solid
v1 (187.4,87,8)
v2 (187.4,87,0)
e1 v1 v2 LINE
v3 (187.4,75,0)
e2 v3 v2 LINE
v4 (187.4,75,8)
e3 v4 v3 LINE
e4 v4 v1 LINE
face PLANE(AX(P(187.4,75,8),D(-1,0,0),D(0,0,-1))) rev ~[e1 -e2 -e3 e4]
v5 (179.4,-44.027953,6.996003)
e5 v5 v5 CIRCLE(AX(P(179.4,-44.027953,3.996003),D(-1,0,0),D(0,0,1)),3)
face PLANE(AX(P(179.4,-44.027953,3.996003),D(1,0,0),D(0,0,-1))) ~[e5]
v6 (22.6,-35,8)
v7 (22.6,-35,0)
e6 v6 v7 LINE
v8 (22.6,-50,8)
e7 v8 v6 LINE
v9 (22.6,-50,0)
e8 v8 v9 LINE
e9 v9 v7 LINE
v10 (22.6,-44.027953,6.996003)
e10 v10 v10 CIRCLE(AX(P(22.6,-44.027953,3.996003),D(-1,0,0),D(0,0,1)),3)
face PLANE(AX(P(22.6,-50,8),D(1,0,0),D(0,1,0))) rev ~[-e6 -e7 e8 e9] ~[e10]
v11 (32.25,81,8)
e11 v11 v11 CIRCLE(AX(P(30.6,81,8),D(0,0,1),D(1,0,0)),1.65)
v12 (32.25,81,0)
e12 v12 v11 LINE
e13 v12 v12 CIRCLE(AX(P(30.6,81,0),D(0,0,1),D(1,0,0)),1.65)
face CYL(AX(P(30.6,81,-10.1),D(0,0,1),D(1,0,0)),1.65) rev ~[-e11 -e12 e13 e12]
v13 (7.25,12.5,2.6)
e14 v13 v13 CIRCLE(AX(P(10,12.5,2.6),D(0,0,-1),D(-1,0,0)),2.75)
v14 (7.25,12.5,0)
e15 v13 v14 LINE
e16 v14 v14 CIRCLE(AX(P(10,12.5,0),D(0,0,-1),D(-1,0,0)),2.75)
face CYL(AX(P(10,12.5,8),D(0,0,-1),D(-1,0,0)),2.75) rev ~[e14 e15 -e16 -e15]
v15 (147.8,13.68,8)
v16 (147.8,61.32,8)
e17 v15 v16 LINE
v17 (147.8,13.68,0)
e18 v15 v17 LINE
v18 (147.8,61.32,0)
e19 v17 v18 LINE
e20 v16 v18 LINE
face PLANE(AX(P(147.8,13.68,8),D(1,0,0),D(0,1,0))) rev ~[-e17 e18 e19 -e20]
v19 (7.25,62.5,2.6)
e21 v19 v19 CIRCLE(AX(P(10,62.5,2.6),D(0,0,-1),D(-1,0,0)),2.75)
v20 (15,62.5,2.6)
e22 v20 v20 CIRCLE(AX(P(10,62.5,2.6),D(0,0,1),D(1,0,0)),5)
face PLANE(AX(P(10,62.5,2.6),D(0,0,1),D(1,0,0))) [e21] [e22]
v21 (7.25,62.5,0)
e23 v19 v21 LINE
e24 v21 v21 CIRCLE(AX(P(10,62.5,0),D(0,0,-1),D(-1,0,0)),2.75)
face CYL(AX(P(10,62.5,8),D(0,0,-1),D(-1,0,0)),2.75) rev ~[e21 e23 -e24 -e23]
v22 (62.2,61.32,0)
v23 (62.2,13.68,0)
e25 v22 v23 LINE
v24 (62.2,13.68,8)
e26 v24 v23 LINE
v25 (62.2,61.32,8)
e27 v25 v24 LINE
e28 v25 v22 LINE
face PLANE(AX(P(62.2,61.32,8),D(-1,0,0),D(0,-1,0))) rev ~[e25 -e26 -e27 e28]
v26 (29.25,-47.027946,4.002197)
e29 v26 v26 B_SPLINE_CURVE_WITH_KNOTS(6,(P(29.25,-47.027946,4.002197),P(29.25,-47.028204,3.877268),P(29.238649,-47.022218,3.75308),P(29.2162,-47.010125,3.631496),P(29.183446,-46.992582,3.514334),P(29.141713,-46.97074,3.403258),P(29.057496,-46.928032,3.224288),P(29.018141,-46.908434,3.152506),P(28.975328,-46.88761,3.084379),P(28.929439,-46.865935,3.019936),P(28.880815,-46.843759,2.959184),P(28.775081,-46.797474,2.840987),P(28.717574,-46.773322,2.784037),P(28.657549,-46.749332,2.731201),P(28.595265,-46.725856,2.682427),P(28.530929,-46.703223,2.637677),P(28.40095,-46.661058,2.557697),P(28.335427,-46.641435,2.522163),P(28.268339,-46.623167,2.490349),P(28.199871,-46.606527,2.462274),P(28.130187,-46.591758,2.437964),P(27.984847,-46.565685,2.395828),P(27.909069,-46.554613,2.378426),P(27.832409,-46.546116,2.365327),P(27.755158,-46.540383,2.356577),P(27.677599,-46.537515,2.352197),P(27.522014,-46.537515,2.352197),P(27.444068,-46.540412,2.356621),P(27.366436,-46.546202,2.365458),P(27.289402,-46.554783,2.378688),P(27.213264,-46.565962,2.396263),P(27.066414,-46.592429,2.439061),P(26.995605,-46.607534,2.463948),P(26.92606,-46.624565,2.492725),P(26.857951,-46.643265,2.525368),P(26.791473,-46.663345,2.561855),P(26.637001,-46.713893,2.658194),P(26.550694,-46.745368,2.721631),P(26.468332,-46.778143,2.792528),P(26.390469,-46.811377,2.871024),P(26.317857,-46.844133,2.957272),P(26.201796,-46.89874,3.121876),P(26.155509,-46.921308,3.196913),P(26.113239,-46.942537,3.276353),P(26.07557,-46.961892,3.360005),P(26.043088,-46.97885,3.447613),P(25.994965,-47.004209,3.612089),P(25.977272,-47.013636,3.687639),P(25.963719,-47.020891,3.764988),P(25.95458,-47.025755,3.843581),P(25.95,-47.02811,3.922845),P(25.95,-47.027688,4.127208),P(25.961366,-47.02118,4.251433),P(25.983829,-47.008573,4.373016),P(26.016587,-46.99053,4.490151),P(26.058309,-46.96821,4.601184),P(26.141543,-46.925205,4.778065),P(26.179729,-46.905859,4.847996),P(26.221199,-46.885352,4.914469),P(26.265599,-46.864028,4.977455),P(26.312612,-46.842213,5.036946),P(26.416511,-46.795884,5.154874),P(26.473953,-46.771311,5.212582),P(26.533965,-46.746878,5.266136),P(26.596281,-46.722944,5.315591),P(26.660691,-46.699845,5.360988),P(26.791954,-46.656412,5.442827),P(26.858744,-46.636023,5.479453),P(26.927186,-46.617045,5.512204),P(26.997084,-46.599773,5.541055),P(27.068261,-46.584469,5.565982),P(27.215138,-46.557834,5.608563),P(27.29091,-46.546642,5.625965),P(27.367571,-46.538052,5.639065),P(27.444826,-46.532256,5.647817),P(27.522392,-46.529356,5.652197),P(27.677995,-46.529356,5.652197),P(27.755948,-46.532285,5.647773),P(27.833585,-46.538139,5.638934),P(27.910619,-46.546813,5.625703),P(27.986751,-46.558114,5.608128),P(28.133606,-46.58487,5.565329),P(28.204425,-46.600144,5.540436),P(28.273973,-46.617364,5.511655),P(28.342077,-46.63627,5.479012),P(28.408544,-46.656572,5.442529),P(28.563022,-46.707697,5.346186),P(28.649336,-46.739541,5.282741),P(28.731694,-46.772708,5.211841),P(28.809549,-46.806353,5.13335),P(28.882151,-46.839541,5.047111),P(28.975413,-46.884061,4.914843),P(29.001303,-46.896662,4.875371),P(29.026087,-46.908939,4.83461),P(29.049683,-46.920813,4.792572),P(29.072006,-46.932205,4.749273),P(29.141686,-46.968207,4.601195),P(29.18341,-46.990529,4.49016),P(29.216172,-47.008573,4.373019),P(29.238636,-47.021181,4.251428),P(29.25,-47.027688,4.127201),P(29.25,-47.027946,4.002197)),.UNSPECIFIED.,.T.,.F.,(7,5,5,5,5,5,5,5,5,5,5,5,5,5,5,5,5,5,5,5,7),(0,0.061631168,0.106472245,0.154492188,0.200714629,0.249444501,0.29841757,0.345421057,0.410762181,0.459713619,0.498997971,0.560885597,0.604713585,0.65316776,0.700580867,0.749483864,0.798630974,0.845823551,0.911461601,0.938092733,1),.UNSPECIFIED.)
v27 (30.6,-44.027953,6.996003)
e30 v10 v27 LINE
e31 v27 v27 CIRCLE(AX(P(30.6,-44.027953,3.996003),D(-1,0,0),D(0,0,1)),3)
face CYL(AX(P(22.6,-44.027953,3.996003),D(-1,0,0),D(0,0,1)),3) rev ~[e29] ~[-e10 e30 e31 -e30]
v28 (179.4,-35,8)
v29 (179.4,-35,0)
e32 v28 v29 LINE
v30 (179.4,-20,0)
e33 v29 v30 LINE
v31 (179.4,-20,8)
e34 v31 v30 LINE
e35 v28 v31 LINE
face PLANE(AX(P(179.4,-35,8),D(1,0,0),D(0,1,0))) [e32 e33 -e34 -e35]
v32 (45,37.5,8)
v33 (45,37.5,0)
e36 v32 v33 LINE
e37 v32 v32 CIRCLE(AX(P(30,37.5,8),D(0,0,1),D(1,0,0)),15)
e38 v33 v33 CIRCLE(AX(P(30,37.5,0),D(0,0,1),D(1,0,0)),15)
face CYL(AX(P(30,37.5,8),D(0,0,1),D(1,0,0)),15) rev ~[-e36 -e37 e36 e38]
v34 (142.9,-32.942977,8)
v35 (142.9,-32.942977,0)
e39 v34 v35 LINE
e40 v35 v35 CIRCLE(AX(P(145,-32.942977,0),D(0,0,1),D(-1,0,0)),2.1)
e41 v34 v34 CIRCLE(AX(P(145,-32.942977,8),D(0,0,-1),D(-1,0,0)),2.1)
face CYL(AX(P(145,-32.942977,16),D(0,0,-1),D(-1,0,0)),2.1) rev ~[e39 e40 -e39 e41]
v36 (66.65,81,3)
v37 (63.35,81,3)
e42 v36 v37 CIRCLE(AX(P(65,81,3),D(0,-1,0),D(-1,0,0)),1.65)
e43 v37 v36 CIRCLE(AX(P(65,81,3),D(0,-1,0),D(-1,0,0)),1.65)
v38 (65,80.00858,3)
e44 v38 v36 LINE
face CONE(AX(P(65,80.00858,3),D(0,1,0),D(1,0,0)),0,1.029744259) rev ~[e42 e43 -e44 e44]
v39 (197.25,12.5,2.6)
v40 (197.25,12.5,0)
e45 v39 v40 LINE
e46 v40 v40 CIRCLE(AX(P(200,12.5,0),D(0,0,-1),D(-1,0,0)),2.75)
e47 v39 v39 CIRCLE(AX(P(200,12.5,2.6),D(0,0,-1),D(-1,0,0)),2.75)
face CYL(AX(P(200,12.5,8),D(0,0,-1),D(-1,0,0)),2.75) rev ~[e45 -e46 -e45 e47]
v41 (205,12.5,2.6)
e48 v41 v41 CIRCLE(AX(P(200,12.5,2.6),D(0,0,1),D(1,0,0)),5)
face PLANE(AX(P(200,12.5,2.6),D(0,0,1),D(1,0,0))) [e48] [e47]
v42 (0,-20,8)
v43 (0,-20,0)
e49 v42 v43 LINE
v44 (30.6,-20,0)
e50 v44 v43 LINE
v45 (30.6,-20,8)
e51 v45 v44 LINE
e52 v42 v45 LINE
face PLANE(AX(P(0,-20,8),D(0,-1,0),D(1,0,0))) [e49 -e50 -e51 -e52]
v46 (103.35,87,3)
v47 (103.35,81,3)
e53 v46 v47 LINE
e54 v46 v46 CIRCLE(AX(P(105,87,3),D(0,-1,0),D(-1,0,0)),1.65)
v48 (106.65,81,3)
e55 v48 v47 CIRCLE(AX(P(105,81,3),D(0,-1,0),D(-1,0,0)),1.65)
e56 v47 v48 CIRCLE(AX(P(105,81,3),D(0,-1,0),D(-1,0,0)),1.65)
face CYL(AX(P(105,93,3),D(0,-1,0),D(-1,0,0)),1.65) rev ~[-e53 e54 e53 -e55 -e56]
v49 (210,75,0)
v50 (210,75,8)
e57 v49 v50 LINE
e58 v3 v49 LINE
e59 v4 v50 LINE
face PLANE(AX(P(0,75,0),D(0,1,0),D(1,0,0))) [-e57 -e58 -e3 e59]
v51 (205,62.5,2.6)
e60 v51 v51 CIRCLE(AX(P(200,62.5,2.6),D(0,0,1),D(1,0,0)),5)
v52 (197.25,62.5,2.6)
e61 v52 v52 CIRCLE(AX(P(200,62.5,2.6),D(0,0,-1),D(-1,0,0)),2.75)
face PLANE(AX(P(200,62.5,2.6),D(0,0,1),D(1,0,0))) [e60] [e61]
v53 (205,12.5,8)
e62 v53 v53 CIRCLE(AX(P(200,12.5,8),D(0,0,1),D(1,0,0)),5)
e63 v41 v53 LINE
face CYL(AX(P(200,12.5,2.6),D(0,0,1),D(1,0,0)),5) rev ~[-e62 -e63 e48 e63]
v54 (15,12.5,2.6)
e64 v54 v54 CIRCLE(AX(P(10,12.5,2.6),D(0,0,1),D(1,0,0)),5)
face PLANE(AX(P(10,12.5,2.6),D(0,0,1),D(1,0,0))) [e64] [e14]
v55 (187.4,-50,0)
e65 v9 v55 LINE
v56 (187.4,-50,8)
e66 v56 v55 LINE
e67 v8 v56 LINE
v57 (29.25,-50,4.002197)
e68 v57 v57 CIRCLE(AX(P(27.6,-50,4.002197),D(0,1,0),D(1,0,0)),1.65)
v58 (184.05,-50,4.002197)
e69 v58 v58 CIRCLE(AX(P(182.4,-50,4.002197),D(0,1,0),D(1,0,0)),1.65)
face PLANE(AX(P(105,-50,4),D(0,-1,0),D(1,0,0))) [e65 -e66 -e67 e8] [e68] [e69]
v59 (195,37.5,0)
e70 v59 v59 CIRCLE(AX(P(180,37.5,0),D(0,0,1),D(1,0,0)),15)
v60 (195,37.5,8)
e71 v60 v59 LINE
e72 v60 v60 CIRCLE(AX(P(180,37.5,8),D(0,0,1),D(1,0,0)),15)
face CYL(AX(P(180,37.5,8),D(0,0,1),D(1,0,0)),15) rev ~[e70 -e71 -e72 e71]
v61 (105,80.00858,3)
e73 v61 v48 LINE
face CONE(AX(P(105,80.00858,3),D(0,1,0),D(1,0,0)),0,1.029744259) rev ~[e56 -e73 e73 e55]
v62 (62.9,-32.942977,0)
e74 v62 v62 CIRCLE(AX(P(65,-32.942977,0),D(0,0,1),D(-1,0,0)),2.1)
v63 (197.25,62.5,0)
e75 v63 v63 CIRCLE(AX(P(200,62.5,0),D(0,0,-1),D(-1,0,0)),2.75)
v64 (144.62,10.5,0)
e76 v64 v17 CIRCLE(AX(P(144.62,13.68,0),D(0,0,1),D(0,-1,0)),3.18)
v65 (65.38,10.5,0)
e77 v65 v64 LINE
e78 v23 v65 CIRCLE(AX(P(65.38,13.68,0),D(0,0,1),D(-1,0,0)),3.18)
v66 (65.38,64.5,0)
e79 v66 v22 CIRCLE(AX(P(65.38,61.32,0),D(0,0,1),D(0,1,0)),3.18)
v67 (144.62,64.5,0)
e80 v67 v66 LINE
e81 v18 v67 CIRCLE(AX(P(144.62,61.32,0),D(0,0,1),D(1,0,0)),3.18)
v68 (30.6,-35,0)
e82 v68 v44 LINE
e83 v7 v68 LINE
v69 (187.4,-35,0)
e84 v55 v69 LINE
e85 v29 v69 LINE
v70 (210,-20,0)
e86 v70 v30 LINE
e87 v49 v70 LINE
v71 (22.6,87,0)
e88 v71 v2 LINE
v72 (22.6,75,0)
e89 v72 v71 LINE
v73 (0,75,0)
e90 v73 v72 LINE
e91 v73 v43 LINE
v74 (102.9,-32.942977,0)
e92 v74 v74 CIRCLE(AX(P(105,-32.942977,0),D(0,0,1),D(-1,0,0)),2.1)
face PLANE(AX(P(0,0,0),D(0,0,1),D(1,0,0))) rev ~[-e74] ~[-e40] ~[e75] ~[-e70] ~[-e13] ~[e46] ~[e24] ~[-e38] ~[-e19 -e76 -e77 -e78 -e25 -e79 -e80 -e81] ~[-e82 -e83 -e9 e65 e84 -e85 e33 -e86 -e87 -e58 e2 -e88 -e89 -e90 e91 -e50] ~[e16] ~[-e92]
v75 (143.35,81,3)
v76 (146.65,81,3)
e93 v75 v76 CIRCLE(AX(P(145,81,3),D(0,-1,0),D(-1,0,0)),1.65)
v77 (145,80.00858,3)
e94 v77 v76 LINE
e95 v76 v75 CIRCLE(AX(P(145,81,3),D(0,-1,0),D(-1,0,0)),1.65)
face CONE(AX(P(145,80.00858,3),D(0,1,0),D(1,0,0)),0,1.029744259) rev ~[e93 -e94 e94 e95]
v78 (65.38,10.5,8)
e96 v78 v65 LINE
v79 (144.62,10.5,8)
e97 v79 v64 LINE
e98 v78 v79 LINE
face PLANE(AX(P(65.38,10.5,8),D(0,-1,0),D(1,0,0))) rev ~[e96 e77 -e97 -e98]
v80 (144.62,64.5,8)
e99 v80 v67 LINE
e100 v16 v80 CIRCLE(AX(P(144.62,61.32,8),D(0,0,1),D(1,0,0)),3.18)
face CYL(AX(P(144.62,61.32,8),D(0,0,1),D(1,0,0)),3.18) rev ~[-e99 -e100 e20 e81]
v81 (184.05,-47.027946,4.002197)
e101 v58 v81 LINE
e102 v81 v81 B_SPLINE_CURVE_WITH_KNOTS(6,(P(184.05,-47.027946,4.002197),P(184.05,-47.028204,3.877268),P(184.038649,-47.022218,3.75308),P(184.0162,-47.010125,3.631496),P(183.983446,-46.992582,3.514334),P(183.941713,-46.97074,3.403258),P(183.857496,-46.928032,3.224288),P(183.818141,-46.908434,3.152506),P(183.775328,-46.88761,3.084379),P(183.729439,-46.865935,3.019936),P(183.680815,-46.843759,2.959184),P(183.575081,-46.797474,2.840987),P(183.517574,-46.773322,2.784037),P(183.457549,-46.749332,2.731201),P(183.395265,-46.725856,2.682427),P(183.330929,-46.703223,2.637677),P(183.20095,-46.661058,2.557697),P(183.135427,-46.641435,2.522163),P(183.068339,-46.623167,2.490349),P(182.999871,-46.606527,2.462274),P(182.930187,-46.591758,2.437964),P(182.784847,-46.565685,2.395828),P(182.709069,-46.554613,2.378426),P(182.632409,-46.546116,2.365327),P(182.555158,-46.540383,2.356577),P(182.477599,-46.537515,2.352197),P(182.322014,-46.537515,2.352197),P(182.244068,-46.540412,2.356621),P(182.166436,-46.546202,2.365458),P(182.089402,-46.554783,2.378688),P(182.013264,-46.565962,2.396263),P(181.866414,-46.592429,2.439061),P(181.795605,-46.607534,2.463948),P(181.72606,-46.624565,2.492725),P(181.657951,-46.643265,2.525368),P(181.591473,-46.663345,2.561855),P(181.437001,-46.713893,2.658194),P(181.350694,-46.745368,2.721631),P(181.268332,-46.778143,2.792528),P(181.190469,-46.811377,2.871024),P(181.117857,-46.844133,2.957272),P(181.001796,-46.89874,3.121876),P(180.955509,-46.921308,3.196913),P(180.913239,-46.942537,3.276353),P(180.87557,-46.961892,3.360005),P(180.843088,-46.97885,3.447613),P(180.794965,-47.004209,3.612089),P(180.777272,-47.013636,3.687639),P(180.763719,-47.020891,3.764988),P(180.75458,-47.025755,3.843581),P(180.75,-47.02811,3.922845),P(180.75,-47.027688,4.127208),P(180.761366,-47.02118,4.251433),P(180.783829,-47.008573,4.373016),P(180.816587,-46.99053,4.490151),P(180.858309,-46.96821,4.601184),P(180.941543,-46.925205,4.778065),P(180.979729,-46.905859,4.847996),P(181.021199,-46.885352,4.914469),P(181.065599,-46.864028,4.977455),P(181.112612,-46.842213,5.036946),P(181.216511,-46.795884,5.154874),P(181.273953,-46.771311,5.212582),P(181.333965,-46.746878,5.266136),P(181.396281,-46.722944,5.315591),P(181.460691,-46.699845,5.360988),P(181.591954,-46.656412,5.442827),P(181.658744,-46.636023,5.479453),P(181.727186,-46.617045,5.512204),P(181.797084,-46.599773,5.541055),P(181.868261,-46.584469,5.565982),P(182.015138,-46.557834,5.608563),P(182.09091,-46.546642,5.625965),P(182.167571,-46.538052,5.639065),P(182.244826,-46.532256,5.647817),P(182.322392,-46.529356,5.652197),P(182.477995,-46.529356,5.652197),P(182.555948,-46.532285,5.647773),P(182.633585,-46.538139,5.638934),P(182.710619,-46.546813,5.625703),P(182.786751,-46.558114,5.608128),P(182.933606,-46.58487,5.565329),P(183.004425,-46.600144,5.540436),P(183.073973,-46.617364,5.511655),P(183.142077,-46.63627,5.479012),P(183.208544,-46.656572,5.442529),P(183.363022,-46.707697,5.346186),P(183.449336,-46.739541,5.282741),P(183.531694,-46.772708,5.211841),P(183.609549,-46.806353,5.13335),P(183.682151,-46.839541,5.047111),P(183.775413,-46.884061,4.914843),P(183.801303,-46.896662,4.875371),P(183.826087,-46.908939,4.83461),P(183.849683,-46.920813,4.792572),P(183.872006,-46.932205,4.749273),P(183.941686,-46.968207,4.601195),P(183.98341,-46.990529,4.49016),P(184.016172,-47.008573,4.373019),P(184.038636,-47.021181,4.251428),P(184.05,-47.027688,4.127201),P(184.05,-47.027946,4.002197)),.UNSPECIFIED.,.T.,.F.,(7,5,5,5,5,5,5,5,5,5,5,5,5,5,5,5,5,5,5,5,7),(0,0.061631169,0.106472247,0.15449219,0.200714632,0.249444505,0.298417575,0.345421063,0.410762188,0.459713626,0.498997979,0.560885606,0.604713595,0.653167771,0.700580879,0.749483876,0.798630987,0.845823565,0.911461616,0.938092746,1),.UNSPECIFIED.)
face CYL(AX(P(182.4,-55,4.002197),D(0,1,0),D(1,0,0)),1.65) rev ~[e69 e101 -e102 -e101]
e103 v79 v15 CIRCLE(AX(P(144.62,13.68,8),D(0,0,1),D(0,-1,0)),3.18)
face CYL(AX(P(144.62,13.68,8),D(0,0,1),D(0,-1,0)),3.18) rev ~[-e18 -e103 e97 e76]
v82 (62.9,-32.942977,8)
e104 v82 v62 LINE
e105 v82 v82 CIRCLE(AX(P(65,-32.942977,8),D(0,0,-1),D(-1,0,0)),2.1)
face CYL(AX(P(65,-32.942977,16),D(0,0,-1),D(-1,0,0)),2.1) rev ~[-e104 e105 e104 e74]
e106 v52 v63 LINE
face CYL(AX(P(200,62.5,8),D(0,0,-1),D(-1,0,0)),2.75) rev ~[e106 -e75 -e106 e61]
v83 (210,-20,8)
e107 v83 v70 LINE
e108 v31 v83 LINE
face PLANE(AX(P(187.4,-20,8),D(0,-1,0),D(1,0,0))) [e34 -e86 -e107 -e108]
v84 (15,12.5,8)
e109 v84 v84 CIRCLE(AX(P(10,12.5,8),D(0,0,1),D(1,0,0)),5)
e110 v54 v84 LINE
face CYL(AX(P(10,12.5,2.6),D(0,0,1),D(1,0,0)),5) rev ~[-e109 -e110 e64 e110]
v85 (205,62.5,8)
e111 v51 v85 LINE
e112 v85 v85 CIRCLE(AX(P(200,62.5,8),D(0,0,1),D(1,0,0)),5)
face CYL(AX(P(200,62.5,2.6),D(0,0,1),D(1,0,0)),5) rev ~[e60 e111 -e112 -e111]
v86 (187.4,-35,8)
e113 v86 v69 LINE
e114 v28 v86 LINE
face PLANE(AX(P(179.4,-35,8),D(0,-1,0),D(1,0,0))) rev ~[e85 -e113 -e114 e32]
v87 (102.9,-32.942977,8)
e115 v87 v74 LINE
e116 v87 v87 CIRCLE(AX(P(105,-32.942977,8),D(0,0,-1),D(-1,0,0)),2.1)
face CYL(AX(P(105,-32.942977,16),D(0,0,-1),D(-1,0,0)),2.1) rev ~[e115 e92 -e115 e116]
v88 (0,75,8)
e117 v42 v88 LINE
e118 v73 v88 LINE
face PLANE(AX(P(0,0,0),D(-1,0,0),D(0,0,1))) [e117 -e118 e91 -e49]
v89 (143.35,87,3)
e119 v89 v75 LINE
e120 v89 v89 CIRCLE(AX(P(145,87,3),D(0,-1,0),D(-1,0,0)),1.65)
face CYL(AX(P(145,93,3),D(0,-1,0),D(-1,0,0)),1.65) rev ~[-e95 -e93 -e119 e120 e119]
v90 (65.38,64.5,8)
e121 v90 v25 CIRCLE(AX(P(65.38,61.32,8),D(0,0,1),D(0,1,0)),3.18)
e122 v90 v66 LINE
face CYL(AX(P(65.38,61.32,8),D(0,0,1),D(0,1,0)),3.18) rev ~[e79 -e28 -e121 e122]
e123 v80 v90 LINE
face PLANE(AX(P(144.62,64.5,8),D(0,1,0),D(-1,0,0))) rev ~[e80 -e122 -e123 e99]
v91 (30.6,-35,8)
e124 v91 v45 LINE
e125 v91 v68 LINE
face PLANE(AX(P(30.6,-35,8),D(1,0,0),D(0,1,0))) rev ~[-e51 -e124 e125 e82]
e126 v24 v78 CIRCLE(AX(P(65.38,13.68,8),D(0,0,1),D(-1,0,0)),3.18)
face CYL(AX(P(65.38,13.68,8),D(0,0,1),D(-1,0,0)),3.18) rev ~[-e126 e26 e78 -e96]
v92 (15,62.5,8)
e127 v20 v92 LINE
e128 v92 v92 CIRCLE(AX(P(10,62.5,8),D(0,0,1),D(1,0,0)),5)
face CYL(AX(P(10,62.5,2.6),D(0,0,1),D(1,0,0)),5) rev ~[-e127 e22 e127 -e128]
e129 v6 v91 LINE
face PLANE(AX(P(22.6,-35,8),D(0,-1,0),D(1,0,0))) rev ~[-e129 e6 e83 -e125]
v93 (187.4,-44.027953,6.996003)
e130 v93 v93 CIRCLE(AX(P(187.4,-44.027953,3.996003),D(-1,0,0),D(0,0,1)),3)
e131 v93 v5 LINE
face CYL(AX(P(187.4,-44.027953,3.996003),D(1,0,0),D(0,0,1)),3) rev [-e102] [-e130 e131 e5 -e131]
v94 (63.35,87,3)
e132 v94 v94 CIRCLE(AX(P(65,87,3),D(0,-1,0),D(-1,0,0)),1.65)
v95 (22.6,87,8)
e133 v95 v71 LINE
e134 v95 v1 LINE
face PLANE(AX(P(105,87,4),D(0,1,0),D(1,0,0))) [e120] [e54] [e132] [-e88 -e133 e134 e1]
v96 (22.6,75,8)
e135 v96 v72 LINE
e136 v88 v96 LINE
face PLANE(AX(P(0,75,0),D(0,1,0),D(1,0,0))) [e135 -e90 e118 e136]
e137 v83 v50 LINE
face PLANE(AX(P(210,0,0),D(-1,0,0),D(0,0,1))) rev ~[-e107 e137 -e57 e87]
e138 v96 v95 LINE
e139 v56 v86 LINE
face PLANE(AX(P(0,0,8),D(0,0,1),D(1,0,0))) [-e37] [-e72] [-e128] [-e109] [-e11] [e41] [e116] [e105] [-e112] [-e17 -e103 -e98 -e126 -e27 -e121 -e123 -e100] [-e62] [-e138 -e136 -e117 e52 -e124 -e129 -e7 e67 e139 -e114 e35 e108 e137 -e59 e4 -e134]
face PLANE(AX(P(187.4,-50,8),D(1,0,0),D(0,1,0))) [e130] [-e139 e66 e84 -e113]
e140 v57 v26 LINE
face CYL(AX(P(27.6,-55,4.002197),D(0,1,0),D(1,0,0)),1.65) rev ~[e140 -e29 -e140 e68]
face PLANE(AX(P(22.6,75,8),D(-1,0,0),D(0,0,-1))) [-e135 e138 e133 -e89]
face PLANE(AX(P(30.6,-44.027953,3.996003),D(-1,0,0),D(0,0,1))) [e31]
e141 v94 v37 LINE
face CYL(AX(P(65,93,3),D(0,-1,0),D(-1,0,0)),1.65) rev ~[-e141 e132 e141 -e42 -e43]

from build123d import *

# Parameters (mm, degrees)
SKETCH_1_W                   = 210
SKETCH_1_H                   = 75
EXTRUDE_1_DEPTH              = 8
CUT_EXTRUDE_1_DEPTH          = 9
HOLE_WIZARD_M5_1_D           = 5.5
HOLE_WIZARD_M5_1_DEPTH       = 10.1
HOLE_WIZARD_M5_1_CBORE_D     = 10
HOLE_WIZARD_M5_1_CBORE_DEPTH = 5.4
HOLE_WIZARD_M5_1_TIP         = 1.652366702
SKETCH_5_R                   = 15
CUT_EXTRUDE_2_DEPTH          = 13
SKETCH_6_W                   = 210
SKETCH_6_H                   = 8
EXTRUDE_2_DEPTH              = 50
SKETCH_7_W                   = 22.6
SKETCH_7_H                   = 30
CUT_EXTRUDE_3_DEPTH          = 20
SKETCH_9_R                   = 3
CUT_EXTRUDE_5_DEPTH          = 8
SKETCH_12_W                  = 164.8
SKETCH_12_H                  = 8
EXTRUDE_3_DEPTH              = 12
SKETCH_13_W                  = 8
SKETCH_13_H                  = 15
CUT_EXTRUDE_6_DEPTH          = 9
HOLE_WIZARD_M4_1_D           = 3.3
HOLE_WIZARD_M4_1_DEPTH       = 5
HOLE_WIZARD_M4_1_TIP         = 0.991420021
HOLE_WIZARD_M4_2_D           = 3.3
HOLE_WIZARD_M4_2_DEPTH       = 10.1
HOLE_WIZARD_M4_2_TIP         = 0.991420021
HOLE_WIZARD_M5_1_2_D         = 4.2
HOLE_WIZARD_M5_1_2_DEPTH     = 8
HOLE_WIZARD_M5_1_2_TIP       = 1.2618073
HOLE_WIZARD_M4_3_D           = 3.3
HOLE_WIZARD_M4_3_DEPTH       = 6
HOLE_WIZARD_M4_3_TIP         = 0.991420021


with BuildPart() as part:
    # 草图1 → 凸台-拉伸1 (new body)
    with BuildSketch(Plane.XY):
        with Locations((105, 37.5)):
            Rectangle(SKETCH_1_W, SKETCH_1_H)
    extrude(amount=EXTRUDE_1_DEPTH)

    # 草图2 → 切除-拉伸1 (cut, through all)
    with BuildSketch(Plane.XY.offset(8)):
        with BuildLine():
            Line((144.62, 64.5), (65.38, 64.5))
            ThreePointArc((65.38, 64.5), (63.131400436, 63.568599564), (62.2, 61.32))
            Line((62.2, 61.32), (62.2, 13.68))
            ThreePointArc((62.2, 13.68), (63.131400436, 11.431400436), (65.38, 10.5))
            Line((65.38, 10.5), (144.62, 10.5))
            ThreePointArc((144.62, 10.5), (146.868599564, 11.431400436), (147.8, 13.68))
            Line((147.8, 13.68), (147.8, 61.32))
            ThreePointArc((147.8, 61.32), (146.868599564, 63.568599564), (144.62, 64.5))
        make_face()
    extrude(amount=-CUT_EXTRUDE_1_DEPTH, mode=Mode.SUBTRACT)

    # Hole Wizard M5 _1
    with Locations(Plane.XY.offset(8)):
        with Locations((10, 62.5), (10, 12.5), (200, 62.5), (200, 12.5)):
            CounterBoreHole(HOLE_WIZARD_M5_1_D / 2, HOLE_WIZARD_M5_1_CBORE_D / 2, HOLE_WIZARD_M5_1_CBORE_DEPTH, depth=HOLE_WIZARD_M5_1_DEPTH)
            with Locations((0, 0, -(HOLE_WIZARD_M5_1_DEPTH + HOLE_WIZARD_M5_1_TIP / 2))):  # 118° drill point
                Cone(0, HOLE_WIZARD_M5_1_D / 2, HOLE_WIZARD_M5_1_TIP, mode=Mode.SUBTRACT)

    # 草图5 → 切除-拉伸2 (cut)
    with BuildSketch(Plane.XY.offset(8)):
        with Locations((30, 37.5)):
            Circle(SKETCH_5_R)
        with Locations((180, 37.5)):
            Circle(SKETCH_5_R)
    extrude(amount=-CUT_EXTRUDE_2_DEPTH, mode=Mode.SUBTRACT)

    # 草图6 → 凸台-拉伸2 (add)
    with BuildSketch(Plane.XZ):
        with Locations((105, 4)):
            Rectangle(SKETCH_6_W, SKETCH_6_H)
    extrude(amount=EXTRUDE_2_DEPTH)

    # 草图7 → 切除-拉伸3 (cut)
    with BuildSketch(Plane.XY.offset(8)):
        with Locations((11.3, -35)):
            Rectangle(SKETCH_7_W, SKETCH_7_H)
        with Locations((198.7, -35)):
            Rectangle(SKETCH_7_W, SKETCH_7_H)
    extrude(amount=-CUT_EXTRUDE_3_DEPTH, mode=Mode.SUBTRACT)

    # 草图9 → 切除-拉伸5 (cut)
    with BuildSketch(Plane.ZY.offset(-22.6)):
        with Locations((3.9960026, -44.027952664)):
            Circle(SKETCH_9_R)
    cut_extrude_5 = extrude(amount=-CUT_EXTRUDE_5_DEPTH, mode=Mode.SUBTRACT)

    # 镜向1: 切除-拉伸5 across plane
    add(cut_extrude_5.mirror(Plane.ZY.offset(-105)), mode=Mode.SUBTRACT)

    # 草图12 → 凸台-拉伸3 (add)
    with BuildSketch(Plane(origin=(0, 75, 0), x_dir=(1, 0, 0), z_dir=(0, 1, 0))):
        with Locations((105, -4)):
            Rectangle(SKETCH_12_W, SKETCH_12_H)
    extrude(amount=EXTRUDE_3_DEPTH)

    # 草图13 → 切除-拉伸6 (cut, through all)
    with BuildSketch(Plane.XY.offset(8)):
        with Locations((26.6, -27.5)):
            Rectangle(SKETCH_13_W, SKETCH_13_H)
        with Locations((183.4, -27.5)):
            Rectangle(SKETCH_13_W, SKETCH_13_H)
    extrude(amount=-CUT_EXTRUDE_6_DEPTH, mode=Mode.SUBTRACT)

    # M4 螺纹孔1
    with Locations(Plane(origin=(0, -50, 0), x_dir=(-1, 0, 0), z_dir=(0, -1, 0))):
        with Locations((-27.6, -4.002197451), (-182.4, -4.002197451)):
            Hole(HOLE_WIZARD_M4_1_D / 2, depth=HOLE_WIZARD_M4_1_DEPTH)
            with Locations((0, 0, -(HOLE_WIZARD_M4_1_DEPTH + HOLE_WIZARD_M4_1_TIP / 2))):  # 118° drill point
                Cone(0, HOLE_WIZARD_M4_1_D / 2, HOLE_WIZARD_M4_1_TIP, mode=Mode.SUBTRACT)

    # M4 螺纹孔2
    with Locations(Plane(origin=(0, 0, 0), x_dir=(-1, 0, 0), z_dir=(0, 0, -1))):
        with Locations((-30.6, 81)):
            Hole(HOLE_WIZARD_M4_2_D / 2, depth=HOLE_WIZARD_M4_2_DEPTH)
            with Locations((0, 0, -(HOLE_WIZARD_M4_2_DEPTH + HOLE_WIZARD_M4_2_TIP / 2))):  # 118° drill point
                Cone(0, HOLE_WIZARD_M4_2_D / 2, HOLE_WIZARD_M4_2_TIP, mode=Mode.SUBTRACT)

    # Hole Wizard M5 _1 2
    with Locations(Plane.XY.offset(8)):
        with Locations((65, -32.942976998), (105, -32.942976998), (145, -32.942976998)):
            Hole(HOLE_WIZARD_M5_1_2_D / 2, depth=HOLE_WIZARD_M5_1_2_DEPTH)
            with Locations((0, 0, -(HOLE_WIZARD_M5_1_2_DEPTH + HOLE_WIZARD_M5_1_2_TIP / 2))):  # 118° drill point
                Cone(0, HOLE_WIZARD_M5_1_2_D / 2, HOLE_WIZARD_M5_1_2_TIP, mode=Mode.SUBTRACT)

    # M4 螺纹孔3
    with Locations(Plane(origin=(0, 87, 0), x_dir=(1, 0, 0), z_dir=(0, 1, 0))):
        with Locations((145, -3), (105, -3), (65, -3)):
            Hole(HOLE_WIZARD_M4_3_D / 2, depth=HOLE_WIZARD_M4_3_DEPTH)
            with Locations((0, 0, -(HOLE_WIZARD_M4_3_DEPTH + HOLE_WIZARD_M4_3_TIP / 2))):  # 118° drill point
                Cone(0, HOLE_WIZARD_M4_3_D / 2, HOLE_WIZARD_M4_3_TIP, mode=Mode.SUBTRACT)


solid = part.part
